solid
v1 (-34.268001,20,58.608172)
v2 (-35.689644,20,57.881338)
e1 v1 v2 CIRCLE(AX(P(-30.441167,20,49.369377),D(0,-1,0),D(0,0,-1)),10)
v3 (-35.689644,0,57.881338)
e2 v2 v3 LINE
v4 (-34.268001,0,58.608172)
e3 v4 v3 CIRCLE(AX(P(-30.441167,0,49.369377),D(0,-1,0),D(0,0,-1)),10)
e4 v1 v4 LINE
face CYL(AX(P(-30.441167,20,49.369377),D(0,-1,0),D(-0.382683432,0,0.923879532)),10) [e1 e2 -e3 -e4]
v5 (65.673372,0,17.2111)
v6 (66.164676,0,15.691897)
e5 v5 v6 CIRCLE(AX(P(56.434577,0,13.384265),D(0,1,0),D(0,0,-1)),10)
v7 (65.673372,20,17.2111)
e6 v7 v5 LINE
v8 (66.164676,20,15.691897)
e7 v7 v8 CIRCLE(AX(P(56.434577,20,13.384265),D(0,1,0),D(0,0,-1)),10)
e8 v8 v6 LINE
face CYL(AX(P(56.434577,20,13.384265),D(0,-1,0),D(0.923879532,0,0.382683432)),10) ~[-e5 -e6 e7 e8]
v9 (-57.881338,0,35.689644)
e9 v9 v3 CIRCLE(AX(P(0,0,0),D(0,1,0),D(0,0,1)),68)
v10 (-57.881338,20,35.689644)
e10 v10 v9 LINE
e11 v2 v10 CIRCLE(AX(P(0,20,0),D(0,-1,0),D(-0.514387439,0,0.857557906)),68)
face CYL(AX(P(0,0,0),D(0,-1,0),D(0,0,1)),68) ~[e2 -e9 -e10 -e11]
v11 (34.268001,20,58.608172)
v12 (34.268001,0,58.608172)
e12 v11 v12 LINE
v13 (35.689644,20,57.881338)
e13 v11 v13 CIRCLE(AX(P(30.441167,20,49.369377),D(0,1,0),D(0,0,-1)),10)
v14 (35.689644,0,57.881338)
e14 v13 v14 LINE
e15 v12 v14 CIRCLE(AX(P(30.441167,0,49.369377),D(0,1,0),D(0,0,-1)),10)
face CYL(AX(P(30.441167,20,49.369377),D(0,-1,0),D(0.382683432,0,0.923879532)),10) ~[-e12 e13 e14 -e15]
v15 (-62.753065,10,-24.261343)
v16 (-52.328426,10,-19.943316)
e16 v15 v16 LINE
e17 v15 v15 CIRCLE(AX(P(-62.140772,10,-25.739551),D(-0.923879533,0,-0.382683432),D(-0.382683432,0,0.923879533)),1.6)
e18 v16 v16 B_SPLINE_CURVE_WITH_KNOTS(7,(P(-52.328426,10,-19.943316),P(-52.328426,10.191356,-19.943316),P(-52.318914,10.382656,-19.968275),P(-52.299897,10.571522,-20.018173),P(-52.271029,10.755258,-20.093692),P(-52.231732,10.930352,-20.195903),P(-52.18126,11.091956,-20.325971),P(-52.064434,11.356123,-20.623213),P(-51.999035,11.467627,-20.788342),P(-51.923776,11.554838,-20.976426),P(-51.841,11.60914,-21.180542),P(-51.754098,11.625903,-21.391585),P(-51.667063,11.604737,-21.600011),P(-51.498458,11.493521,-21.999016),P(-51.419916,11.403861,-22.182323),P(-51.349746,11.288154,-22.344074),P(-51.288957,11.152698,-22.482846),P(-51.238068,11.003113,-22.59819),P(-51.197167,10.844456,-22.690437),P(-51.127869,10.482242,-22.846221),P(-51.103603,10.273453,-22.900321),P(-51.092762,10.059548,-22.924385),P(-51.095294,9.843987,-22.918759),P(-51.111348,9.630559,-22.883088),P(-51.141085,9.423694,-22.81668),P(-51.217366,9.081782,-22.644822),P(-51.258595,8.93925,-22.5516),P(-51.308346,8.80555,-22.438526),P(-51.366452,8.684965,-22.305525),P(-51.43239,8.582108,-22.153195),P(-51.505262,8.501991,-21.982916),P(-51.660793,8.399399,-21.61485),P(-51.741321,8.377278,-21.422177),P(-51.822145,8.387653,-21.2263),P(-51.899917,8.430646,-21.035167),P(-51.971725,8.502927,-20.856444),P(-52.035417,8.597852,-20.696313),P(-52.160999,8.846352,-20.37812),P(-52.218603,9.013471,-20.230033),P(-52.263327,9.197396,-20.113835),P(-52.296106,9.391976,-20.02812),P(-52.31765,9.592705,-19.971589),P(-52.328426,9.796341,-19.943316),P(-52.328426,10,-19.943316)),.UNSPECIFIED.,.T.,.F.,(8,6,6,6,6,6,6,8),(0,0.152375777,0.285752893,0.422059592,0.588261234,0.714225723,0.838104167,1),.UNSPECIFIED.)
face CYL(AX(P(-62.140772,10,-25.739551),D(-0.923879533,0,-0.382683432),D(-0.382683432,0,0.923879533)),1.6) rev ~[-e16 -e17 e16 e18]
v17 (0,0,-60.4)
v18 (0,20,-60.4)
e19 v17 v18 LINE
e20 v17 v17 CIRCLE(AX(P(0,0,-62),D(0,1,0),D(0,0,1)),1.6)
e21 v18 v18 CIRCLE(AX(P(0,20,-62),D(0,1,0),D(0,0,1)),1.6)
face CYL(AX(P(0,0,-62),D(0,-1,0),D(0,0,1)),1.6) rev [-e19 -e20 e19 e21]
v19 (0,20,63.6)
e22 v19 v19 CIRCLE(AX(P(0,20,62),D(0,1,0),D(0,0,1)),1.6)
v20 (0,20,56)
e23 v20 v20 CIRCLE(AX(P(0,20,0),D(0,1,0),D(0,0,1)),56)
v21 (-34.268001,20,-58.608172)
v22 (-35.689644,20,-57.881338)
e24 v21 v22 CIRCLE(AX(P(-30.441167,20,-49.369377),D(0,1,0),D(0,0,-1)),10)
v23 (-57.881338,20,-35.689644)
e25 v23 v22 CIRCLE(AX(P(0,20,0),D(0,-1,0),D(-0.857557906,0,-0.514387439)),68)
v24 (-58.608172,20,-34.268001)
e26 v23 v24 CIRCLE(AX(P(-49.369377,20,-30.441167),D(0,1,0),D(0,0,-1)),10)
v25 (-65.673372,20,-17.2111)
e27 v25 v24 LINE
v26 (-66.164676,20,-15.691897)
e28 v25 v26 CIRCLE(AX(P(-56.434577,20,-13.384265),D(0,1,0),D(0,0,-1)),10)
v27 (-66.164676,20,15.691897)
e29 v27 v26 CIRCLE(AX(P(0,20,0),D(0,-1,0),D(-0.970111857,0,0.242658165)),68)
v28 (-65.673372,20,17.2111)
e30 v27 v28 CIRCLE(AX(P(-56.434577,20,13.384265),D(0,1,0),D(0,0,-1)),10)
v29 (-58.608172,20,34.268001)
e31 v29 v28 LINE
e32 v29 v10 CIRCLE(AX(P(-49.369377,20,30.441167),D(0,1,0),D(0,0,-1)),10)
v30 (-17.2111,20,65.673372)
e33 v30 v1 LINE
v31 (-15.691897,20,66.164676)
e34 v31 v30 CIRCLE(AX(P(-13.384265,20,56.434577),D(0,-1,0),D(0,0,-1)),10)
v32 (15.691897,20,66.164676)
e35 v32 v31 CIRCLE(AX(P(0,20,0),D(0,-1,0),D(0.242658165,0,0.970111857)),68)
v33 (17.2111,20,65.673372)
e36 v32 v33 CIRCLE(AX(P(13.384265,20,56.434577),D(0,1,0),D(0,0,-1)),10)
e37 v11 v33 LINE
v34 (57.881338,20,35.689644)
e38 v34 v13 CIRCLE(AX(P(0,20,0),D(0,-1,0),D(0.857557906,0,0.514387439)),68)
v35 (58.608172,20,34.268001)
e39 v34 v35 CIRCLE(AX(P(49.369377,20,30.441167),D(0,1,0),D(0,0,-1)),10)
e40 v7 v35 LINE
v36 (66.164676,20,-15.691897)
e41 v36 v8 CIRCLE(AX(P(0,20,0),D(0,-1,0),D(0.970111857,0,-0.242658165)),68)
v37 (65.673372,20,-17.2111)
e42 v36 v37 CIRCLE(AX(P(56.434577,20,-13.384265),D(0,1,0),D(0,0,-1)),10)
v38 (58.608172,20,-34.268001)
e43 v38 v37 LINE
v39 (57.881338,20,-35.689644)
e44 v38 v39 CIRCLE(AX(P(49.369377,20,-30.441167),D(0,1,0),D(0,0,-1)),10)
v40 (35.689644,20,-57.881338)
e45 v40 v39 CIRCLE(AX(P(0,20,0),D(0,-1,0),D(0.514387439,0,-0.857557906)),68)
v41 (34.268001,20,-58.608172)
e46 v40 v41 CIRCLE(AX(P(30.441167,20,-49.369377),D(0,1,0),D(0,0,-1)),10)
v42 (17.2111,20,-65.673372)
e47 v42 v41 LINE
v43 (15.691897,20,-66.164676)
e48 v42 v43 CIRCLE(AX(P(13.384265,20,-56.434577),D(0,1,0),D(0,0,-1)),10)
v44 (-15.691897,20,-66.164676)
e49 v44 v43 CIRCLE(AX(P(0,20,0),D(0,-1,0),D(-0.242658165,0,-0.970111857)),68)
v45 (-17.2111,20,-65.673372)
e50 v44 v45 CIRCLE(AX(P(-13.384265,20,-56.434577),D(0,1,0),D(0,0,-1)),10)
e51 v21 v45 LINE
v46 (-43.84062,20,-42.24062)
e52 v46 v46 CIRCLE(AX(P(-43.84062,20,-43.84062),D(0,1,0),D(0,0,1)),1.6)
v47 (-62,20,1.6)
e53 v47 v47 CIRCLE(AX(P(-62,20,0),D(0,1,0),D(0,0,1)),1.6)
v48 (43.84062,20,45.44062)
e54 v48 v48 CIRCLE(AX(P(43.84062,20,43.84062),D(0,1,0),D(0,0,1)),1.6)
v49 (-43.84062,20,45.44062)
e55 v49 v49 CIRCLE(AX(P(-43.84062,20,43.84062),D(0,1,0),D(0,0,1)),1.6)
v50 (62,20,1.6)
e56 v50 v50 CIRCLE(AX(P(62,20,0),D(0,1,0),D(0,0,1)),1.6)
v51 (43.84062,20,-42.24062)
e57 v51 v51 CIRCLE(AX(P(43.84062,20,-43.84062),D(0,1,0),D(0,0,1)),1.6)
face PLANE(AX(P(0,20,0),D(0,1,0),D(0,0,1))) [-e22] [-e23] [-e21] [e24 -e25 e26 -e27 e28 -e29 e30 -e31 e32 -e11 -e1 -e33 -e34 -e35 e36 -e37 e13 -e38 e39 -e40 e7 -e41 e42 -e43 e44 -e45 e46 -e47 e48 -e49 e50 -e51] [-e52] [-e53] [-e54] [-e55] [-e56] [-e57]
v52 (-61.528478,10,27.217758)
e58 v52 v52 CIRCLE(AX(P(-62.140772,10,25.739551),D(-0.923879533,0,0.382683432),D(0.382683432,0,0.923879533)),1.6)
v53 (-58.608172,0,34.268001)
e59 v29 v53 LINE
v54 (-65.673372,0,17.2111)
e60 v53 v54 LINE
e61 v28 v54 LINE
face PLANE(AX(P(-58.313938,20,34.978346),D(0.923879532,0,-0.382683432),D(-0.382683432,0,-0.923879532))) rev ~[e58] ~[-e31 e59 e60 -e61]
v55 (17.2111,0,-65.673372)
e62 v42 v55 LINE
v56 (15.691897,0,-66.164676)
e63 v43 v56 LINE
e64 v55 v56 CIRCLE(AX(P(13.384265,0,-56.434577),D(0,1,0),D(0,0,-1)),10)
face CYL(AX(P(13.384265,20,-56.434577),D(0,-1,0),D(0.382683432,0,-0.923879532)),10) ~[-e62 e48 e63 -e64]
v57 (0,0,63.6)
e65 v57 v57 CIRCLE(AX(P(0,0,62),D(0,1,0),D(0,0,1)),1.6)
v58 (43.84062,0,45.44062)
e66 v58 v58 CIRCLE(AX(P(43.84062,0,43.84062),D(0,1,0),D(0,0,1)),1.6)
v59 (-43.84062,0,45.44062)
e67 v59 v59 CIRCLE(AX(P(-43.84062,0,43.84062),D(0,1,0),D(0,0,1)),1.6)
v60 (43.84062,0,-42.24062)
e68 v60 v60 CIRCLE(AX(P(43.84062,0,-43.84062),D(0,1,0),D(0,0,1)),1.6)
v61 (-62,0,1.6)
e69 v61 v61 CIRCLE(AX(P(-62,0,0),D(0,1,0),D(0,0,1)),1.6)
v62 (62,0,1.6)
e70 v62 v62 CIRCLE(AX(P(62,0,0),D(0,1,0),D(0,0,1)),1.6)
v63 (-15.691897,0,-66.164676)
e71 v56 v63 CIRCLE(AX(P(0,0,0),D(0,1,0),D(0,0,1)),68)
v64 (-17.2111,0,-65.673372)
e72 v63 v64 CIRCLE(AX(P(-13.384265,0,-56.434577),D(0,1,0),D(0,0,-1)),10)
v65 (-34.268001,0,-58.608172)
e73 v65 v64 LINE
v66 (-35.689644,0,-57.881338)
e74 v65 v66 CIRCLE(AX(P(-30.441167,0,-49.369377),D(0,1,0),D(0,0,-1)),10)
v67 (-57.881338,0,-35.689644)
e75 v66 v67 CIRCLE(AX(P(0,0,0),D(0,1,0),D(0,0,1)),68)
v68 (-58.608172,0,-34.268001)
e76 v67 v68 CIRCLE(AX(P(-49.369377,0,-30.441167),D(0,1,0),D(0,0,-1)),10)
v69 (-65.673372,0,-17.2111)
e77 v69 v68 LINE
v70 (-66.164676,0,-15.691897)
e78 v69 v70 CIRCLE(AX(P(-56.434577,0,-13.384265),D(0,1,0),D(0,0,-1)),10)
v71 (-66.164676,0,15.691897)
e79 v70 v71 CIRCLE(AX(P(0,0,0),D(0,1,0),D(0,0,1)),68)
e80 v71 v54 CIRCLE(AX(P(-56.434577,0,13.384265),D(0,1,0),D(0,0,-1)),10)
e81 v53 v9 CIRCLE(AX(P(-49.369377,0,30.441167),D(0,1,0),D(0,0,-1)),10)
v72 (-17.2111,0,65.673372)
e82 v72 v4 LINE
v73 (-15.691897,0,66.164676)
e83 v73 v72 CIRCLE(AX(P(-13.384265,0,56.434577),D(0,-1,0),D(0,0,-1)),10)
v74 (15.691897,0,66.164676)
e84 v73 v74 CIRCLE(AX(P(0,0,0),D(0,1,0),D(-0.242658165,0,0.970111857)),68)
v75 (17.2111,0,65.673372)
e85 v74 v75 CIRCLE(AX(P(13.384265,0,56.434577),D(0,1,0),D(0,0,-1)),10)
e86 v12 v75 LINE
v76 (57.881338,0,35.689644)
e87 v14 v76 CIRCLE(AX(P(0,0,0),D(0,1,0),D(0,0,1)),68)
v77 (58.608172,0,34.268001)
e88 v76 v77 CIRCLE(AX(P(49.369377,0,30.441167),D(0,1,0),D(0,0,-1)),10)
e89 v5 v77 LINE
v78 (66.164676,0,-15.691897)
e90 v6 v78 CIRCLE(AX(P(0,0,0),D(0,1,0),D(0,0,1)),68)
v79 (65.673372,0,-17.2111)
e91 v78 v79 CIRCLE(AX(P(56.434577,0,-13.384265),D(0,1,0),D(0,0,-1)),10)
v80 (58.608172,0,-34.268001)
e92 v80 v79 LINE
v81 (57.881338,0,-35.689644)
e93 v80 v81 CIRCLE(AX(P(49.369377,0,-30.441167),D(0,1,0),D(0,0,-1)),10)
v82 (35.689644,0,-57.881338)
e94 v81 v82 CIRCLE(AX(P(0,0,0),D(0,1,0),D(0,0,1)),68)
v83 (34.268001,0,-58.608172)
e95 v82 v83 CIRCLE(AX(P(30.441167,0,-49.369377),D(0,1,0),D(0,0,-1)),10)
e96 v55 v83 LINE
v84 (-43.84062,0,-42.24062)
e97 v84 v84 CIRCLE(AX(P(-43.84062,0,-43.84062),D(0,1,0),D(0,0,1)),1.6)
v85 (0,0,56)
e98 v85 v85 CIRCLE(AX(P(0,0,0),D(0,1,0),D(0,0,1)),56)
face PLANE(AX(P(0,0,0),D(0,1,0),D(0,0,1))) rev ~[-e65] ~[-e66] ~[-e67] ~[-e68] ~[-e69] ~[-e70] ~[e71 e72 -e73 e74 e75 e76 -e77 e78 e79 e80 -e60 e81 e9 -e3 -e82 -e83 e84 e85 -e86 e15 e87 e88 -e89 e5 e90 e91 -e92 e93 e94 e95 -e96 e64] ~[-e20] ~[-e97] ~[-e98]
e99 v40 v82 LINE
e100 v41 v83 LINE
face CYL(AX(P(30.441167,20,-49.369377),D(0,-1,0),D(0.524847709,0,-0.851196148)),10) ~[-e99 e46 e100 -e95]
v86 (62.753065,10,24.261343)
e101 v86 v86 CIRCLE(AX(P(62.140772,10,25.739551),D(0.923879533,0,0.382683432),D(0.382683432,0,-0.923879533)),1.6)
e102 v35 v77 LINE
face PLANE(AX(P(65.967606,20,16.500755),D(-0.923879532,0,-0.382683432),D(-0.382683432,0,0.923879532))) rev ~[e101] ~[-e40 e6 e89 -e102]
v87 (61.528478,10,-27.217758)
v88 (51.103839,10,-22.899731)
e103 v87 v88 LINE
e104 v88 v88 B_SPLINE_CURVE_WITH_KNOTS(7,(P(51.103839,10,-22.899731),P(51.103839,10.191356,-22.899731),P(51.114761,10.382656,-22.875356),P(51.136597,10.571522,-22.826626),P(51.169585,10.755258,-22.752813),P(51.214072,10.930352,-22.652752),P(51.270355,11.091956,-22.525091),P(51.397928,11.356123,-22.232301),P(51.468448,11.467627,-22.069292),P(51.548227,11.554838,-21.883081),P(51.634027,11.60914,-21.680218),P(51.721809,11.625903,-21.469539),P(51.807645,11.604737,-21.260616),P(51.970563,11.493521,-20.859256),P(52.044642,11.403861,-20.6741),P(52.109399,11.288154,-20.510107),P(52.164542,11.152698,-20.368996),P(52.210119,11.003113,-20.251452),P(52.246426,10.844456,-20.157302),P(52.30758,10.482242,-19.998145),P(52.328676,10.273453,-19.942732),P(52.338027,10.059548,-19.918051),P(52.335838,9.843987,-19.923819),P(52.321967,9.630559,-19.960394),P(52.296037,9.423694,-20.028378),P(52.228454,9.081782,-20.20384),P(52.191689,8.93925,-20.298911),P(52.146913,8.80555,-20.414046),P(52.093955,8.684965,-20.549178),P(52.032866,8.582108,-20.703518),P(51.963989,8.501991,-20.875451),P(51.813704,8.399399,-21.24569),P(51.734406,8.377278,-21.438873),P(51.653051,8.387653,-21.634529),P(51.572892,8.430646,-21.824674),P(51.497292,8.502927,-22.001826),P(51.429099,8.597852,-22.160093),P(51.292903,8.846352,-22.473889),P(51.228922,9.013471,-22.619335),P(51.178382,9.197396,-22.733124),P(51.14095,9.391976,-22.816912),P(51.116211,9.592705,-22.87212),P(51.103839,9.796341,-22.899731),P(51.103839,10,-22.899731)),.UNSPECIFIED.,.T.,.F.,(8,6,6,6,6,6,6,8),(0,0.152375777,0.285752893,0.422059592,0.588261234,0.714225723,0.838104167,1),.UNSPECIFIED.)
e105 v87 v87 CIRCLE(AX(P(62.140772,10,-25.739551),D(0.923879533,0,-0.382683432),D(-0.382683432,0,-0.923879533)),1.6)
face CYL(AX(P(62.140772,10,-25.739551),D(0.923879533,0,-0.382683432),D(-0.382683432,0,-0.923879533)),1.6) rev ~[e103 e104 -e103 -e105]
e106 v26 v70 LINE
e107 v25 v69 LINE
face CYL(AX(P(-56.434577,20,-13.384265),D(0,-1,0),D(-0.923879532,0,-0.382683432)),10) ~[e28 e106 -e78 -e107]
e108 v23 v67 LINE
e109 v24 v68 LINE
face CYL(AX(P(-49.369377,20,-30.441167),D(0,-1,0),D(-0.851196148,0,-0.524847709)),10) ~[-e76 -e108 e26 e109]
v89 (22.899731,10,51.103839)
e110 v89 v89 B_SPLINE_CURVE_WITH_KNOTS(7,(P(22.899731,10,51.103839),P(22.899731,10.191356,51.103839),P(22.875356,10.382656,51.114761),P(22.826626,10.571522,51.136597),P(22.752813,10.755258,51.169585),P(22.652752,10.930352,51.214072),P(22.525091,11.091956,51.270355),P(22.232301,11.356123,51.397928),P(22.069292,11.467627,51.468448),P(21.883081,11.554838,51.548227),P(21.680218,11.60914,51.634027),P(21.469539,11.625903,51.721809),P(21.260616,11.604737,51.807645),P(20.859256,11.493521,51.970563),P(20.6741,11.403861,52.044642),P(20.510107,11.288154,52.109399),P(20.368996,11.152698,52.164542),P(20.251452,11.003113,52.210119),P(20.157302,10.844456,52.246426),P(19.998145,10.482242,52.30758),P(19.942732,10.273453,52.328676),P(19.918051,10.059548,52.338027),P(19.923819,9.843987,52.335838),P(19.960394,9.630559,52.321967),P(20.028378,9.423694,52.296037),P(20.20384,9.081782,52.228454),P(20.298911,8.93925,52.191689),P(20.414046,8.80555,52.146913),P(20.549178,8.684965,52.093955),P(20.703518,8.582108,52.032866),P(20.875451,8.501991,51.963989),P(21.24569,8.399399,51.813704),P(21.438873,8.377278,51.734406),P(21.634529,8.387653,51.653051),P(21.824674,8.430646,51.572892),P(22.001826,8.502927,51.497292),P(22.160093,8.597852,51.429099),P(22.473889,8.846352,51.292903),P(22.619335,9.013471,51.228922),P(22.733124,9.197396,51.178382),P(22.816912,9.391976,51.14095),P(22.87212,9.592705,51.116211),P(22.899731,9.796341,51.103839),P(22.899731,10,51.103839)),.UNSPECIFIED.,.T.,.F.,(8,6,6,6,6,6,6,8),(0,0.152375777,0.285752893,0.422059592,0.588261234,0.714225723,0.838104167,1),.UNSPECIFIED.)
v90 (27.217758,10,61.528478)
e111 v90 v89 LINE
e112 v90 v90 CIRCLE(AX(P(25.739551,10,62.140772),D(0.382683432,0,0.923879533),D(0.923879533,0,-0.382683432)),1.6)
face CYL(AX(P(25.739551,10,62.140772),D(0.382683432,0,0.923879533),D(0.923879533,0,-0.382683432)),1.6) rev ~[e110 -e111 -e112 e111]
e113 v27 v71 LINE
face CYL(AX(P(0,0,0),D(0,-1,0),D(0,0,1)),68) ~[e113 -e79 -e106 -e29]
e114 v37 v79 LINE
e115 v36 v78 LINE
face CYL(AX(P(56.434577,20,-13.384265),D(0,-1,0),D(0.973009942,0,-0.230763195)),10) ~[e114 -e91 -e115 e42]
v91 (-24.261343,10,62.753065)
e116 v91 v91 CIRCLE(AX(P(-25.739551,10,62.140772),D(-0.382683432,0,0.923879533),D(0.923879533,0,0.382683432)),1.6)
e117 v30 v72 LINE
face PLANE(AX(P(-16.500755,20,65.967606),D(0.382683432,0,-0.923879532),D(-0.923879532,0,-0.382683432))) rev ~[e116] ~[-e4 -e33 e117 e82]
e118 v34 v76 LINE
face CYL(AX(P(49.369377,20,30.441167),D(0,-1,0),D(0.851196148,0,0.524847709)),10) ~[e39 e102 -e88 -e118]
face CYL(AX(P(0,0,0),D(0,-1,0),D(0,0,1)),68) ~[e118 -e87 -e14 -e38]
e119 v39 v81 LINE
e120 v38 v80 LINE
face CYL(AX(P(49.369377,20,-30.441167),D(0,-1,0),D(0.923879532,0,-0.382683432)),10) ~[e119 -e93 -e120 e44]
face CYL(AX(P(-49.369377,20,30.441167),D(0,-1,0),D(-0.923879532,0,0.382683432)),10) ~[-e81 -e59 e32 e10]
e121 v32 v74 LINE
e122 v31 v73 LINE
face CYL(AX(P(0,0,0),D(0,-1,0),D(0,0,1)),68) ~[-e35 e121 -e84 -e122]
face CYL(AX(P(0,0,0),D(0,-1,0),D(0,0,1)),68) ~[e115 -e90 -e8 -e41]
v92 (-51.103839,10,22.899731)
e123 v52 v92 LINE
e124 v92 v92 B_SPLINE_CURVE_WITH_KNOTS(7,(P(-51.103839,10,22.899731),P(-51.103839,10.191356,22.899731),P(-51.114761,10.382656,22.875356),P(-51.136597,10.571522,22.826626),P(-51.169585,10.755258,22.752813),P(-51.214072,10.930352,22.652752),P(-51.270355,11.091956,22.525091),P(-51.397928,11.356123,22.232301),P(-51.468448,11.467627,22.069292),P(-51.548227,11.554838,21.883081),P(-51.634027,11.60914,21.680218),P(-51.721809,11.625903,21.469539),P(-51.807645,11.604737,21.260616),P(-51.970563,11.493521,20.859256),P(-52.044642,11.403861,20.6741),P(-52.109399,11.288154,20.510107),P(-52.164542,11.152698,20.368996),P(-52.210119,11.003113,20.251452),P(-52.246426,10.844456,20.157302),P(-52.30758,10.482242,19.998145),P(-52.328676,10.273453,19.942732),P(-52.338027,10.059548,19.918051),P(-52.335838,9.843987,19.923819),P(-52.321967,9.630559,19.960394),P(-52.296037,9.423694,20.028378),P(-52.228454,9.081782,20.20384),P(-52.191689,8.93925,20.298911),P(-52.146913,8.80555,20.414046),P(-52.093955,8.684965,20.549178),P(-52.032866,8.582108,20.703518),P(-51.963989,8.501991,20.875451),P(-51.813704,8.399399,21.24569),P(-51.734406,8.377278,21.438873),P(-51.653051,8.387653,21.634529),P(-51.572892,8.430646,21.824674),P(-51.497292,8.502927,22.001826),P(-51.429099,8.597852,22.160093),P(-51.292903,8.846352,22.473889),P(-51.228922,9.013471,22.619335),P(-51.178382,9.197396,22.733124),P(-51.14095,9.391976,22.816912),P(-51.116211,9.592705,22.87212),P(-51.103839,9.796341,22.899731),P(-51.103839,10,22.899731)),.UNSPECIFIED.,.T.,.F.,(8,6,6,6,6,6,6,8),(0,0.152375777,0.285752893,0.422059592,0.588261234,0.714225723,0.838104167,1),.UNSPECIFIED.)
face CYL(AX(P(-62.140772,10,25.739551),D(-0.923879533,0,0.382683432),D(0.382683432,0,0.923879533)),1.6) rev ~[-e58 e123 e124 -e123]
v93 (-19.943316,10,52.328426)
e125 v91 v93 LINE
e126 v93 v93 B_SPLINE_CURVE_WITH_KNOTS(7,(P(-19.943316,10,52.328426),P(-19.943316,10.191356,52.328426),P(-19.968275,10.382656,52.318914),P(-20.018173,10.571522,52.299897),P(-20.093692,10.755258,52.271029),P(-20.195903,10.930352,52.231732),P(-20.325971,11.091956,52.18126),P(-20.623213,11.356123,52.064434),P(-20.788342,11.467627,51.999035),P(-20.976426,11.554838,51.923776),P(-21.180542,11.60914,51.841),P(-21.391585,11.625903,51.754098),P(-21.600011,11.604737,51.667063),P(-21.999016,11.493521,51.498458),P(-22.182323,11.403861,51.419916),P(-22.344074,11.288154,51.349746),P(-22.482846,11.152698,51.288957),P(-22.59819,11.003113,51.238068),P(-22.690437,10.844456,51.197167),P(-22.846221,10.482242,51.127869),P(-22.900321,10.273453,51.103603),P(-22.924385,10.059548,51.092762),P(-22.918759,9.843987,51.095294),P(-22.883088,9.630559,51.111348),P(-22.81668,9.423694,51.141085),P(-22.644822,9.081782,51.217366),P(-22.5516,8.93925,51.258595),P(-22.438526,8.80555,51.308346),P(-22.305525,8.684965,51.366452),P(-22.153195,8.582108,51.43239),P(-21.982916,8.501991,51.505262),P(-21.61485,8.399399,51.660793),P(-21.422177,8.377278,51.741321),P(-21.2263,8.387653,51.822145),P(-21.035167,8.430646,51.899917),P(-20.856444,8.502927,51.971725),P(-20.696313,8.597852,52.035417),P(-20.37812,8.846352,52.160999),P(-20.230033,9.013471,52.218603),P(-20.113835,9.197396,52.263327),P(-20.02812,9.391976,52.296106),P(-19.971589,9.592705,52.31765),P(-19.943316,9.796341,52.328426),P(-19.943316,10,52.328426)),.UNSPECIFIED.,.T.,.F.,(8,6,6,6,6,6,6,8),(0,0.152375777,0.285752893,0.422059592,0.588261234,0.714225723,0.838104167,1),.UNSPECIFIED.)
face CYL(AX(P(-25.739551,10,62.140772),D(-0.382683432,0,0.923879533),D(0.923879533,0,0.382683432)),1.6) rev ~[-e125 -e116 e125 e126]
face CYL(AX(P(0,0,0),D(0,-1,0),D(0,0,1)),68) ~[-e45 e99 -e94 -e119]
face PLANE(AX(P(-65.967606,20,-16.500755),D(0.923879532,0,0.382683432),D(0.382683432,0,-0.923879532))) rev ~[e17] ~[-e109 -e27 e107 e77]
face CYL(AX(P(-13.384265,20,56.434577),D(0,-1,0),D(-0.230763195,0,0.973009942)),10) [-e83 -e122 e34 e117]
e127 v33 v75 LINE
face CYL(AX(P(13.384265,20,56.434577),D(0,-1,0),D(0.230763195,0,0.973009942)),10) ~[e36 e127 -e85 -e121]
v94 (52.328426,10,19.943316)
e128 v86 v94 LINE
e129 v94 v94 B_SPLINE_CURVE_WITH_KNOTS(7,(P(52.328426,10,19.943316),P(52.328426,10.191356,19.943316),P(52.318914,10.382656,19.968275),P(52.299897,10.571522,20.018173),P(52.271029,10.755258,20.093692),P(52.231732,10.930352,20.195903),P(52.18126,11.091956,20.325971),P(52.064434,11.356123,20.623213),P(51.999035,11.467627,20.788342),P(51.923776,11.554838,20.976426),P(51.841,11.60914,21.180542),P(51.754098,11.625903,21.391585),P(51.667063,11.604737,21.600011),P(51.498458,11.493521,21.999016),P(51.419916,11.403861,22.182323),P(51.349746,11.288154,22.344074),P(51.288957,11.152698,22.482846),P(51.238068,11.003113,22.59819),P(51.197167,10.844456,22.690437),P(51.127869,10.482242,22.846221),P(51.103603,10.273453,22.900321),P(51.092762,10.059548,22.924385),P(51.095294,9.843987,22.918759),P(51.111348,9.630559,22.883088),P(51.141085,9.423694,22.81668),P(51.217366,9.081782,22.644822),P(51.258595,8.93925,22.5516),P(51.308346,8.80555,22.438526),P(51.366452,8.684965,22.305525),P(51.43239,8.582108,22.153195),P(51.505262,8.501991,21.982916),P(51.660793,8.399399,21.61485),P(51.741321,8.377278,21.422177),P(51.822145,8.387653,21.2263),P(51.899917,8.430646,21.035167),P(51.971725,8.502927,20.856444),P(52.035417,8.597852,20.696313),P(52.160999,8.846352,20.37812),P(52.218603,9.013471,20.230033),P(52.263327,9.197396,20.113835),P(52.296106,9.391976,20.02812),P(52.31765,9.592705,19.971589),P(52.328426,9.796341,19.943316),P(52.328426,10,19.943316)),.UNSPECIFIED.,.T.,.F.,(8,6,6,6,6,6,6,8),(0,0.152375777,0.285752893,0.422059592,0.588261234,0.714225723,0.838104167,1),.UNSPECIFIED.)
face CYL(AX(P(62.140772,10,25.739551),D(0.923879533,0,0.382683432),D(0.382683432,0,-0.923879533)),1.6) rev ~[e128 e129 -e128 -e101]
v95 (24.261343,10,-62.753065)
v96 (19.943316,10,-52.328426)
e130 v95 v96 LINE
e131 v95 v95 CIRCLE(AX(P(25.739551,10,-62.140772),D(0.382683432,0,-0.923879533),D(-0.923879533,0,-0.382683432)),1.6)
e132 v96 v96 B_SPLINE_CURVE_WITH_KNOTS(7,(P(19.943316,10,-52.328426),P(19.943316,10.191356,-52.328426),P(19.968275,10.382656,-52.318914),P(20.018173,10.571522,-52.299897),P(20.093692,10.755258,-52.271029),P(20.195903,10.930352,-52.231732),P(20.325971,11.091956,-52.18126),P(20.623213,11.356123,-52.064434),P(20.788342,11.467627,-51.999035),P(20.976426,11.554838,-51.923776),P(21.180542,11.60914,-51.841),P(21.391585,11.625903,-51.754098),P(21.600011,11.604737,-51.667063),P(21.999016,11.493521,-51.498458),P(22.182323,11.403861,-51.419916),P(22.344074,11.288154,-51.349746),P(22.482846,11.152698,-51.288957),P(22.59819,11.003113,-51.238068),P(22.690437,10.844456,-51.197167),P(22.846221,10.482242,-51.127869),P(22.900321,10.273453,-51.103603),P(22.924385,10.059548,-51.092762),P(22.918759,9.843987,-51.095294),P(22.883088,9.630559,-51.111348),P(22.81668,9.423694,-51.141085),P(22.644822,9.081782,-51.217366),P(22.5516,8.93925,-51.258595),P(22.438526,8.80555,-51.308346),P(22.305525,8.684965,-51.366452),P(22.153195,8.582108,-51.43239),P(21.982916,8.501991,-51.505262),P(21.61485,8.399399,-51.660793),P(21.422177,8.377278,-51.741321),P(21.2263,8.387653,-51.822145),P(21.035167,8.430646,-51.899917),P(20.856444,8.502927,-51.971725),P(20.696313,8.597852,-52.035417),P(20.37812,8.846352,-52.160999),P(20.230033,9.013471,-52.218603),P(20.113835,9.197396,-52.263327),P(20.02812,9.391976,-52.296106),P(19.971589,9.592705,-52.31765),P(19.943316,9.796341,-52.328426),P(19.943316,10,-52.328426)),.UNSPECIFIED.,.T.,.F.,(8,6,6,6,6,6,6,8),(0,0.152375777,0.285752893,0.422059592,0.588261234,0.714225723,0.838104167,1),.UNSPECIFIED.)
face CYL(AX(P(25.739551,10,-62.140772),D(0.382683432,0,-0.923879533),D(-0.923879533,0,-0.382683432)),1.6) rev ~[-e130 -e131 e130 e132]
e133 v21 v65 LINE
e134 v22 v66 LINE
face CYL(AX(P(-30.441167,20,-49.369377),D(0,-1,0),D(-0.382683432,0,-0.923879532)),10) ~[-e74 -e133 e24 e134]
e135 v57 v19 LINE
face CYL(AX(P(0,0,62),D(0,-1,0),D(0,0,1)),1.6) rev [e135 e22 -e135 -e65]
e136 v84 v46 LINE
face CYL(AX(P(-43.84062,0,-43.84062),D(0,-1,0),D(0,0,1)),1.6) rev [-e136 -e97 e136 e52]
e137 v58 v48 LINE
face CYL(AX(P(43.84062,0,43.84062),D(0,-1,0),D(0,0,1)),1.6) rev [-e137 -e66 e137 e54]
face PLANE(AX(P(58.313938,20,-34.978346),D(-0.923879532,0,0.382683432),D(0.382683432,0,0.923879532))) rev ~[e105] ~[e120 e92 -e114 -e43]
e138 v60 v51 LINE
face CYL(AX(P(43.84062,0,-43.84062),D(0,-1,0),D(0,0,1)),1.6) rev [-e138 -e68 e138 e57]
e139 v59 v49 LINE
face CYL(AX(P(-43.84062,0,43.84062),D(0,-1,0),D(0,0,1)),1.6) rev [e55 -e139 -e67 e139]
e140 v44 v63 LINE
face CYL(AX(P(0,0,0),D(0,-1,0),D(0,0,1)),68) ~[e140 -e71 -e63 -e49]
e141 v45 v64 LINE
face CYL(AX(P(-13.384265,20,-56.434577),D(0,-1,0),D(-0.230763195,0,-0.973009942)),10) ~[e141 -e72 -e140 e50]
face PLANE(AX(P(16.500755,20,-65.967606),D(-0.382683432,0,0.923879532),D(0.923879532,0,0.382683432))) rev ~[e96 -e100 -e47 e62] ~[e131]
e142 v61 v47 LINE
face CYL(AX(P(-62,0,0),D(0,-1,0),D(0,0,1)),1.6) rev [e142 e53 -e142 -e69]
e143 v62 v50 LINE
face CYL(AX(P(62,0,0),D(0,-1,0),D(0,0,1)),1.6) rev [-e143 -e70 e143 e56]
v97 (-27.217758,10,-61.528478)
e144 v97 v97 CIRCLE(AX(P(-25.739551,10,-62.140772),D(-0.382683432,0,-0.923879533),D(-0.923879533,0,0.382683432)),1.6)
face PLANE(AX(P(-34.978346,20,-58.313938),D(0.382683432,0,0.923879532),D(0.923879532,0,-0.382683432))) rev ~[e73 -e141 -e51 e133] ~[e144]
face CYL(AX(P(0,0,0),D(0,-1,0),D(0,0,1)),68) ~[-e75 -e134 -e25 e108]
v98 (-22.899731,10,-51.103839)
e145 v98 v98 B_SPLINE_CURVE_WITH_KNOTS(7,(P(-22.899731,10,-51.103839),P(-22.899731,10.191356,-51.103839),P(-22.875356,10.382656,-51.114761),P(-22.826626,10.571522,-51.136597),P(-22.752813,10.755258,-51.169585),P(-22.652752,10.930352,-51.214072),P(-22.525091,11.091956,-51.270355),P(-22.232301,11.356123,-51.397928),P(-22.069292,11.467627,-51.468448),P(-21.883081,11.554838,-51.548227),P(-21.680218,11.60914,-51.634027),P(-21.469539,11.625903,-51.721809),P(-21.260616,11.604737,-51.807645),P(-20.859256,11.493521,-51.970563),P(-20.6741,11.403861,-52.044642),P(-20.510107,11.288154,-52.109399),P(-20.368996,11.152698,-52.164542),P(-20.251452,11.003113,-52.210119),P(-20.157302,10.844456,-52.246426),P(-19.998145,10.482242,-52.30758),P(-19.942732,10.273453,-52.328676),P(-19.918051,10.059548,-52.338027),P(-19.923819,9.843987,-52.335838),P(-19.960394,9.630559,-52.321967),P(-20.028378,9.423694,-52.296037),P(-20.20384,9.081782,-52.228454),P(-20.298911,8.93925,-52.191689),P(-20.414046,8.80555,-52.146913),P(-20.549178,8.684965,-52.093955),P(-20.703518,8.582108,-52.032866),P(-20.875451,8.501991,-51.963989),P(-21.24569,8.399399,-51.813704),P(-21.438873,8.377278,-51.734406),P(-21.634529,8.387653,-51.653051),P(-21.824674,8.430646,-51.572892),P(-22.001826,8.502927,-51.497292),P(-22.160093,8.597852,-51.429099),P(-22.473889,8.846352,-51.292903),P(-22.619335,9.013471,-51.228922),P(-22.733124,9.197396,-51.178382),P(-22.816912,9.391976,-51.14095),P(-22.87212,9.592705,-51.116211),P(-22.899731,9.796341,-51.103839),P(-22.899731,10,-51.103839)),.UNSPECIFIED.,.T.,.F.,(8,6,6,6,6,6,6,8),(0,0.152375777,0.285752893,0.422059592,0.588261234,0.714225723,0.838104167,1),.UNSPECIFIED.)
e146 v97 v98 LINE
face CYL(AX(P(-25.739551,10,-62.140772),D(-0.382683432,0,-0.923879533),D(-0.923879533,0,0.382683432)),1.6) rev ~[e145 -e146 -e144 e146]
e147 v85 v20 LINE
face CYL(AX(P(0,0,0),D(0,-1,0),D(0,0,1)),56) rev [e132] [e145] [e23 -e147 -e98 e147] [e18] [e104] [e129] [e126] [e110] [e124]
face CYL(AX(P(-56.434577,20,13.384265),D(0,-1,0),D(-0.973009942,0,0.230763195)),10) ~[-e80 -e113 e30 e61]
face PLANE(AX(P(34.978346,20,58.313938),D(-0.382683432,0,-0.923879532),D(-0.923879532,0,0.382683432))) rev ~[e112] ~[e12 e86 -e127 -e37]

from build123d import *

# Parameters (mm, degrees)
SKETCH1_R               = 68
SKETCH1_R_2             = 56
SKETCH1_R_3             = 1.6
BOSS_EXTRUDE1_DEPTH     = 20
SKETCH2_R               = 76
CUT_EXTRUDE1_DEPTH      = 99.224233262
CUT_EXTRUDE2_REACH      = 163.628
CUT_EXTRUDE2_END_RADIUS = 56
SKETCH3_R               = 1.6
CIRPATTERN4_COUNT       = 8
FILLET1_R               = 10


with BuildPart() as part:
    # Sketch1 → Boss-Extrude1 (new body)
    with BuildSketch(Plane(origin=(0, 0, 0), x_dir=(1, 0, 0), z_dir=(0, 1, 0))):
        with Locations(Location((0, 0, 0), (0, 0, 270))):
            Circle(SKETCH1_R)
        with Locations(Location((0, 0, 0), (0, 0, 270))):
            Circle(SKETCH1_R_2, mode=Mode.SUBTRACT)
        with Locations(Location((0, 62, 0), (0, 0, 270))):
            Circle(SKETCH1_R_3, mode=Mode.SUBTRACT)
        with Locations(Location((43.840620434, 43.840620434, 0), (0, 0, 270))):
            Circle(SKETCH1_R_3, mode=Mode.SUBTRACT)
        with Locations(Location((62, 0, 0), (0, 0, 270))):
            Circle(SKETCH1_R_3, mode=Mode.SUBTRACT)
        with Locations(Location((43.840620434, -43.840620434, 0), (0, 0, 270))):
            Circle(SKETCH1_R_3, mode=Mode.SUBTRACT)
        with Locations(Location((0, -62, 0), (0, 0, 270))):
            Circle(SKETCH1_R_3, mode=Mode.SUBTRACT)
        with Locations(Location((-43.840620434, -43.840620434, 0), (0, 0, 270))):
            Circle(SKETCH1_R_3, mode=Mode.SUBTRACT)
        with Locations(Location((-62, 0, 0), (0, 0, 270))):
            Circle(SKETCH1_R_3, mode=Mode.SUBTRACT)
        with Locations(Location((-43.840620434, 43.840620434, 0), (0, 0, 270))):
            Circle(SKETCH1_R_3, mode=Mode.SUBTRACT)
    extrude(amount=BOSS_EXTRUDE1_DEPTH)

    # Sketch2 → Cut-Extrude1 (cut, through all)
    with BuildSketch(Plane(origin=(0, 20, 0), x_dir=(1, 0, 0), z_dir=(0, 1, 0))):
        Circle(SKETCH2_R)
        with BuildLine():
            Line((16.500755195, 65.967606278), (34.978345845, 58.31393763))
            ThreePointArc((34.978345845, 58.31393763), (48.083261121, 48.083261121), (58.31393763, 34.978345845))
            Line((58.31393763, 34.978345845), (65.967606278, 16.500755195))
            ThreePointArc((65.967606278, 16.500755195), (68, 0), (65.967606278, -16.500755195))
            Line((65.967606278, -16.500755195), (58.31393763, -34.978345845))
            ThreePointArc((58.31393763, -34.978345845), (48.083261121, -48.083261121), (34.978345845, -58.31393763))
            Line((34.978345845, -58.31393763), (16.500755195, -65.967606278))
            ThreePointArc((16.500755195, -65.967606278), (0, -68), (-16.500755195, -65.967606278))
            Line((-16.500755195, -65.967606278), (-34.978345845, -58.31393763))
            ThreePointArc((-34.978345845, -58.31393763), (-48.083261121, -48.083261121), (-58.31393763, -34.978345845))
            Line((-58.31393763, -34.978345845), (-65.967606278, -16.500755195))
            ThreePointArc((-65.967606278, -16.500755195), (-68, 0), (-65.967606278, 16.500755195))
            Line((-65.967606278, 16.500755195), (-58.31393763, 34.978345845))
            ThreePointArc((-58.31393763, 34.978345845), (-48.083261121, 48.083261121), (-34.978345845, 58.31393763))
            Line((-34.978345845, 58.31393763), (-16.500755195, 65.967606278))
            ThreePointArc((-16.500755195, 65.967606278), (0, 68), (16.500755195, 65.967606278))
        make_face(mode=Mode.SUBTRACT)
    extrude(amount=-CUT_EXTRUDE1_DEPTH, mode=Mode.SUBTRACT)

    # Cut-Extrude2: up to this cylinder (the profile starts outside it)
    cut_extrude2_end = Plane(origin=(0, 10, 0), z_dir=(0, -1, 0)) * Cylinder(CUT_EXTRUDE2_END_RADIUS, 440.256, mode=Mode.PRIVATE)
    # Sketch3 → Cut-Extrude2 (cut, up to the surface)
    with BuildSketch(Plane(origin=(-25.73955052, 0, -62.140771954), x_dir=(-0.9238795325112866, 0, 0.38268343236509017), z_dir=(-0.3826834323650902, 0, -0.9238795325112867)), mode=Mode.PRIVATE) as cut_extrude2_sk1:
        with Locations((0, 10)):
            Circle(SKETCH3_R)
    cut_extrude2_tool1 = extrude(cut_extrude2_sk1.sketch, amount=-CUT_EXTRUDE2_REACH, mode=Mode.PRIVATE) - cut_extrude2_end
    cut_extrude2 = cut_extrude2_tool1.solids().sort_by_distance((-25.739551, 10, -62.140772))[0]
    add(cut_extrude2, mode=Mode.SUBTRACT)

    # CirPattern4: Cut-Extrude2 ×8 about axis
    cirpattern4_axis = Axis((0, 20, 0), (0, 1, 0))
    for i in range(1, CIRPATTERN4_COUNT):
        add(cut_extrude2.rotate(cirpattern4_axis, i * 360 / CIRPATTERN4_COUNT), mode=Mode.SUBTRACT)

    # Fillet1
    fillet1_edges = [part.edges().sort_by_distance(p)[0] for p in [
        (16.500755195, 10, -65.967606278),
        (34.978345845, 10, -58.31393763),
        (58.31393763, 10, -34.978345845),
        (65.967606278, 10, -16.500755195),
        (65.967606278, 10, 16.500755195),
        (58.31393763, 10, 34.978345845),
        (34.978345845, 10, 58.31393763),
        (16.500755195, 10, 65.967606278),
        (-16.500755195, 10, 65.967606278),
        (-34.978345845, 10, 58.31393763),
        (-58.31393763, 10, 34.978345845),
        (-65.967606278, 10, 16.500755195),
        (-65.967606278, 10, -16.500755195),
        (-58.31393763, 10, -34.978345845),
        (-34.978345845, 10, -58.31393763),
        (-16.500755195, 10, -65.967606278),
    ]]
    fillet(fillet1_edges, radius=FILLET1_R)


solid = part.part
